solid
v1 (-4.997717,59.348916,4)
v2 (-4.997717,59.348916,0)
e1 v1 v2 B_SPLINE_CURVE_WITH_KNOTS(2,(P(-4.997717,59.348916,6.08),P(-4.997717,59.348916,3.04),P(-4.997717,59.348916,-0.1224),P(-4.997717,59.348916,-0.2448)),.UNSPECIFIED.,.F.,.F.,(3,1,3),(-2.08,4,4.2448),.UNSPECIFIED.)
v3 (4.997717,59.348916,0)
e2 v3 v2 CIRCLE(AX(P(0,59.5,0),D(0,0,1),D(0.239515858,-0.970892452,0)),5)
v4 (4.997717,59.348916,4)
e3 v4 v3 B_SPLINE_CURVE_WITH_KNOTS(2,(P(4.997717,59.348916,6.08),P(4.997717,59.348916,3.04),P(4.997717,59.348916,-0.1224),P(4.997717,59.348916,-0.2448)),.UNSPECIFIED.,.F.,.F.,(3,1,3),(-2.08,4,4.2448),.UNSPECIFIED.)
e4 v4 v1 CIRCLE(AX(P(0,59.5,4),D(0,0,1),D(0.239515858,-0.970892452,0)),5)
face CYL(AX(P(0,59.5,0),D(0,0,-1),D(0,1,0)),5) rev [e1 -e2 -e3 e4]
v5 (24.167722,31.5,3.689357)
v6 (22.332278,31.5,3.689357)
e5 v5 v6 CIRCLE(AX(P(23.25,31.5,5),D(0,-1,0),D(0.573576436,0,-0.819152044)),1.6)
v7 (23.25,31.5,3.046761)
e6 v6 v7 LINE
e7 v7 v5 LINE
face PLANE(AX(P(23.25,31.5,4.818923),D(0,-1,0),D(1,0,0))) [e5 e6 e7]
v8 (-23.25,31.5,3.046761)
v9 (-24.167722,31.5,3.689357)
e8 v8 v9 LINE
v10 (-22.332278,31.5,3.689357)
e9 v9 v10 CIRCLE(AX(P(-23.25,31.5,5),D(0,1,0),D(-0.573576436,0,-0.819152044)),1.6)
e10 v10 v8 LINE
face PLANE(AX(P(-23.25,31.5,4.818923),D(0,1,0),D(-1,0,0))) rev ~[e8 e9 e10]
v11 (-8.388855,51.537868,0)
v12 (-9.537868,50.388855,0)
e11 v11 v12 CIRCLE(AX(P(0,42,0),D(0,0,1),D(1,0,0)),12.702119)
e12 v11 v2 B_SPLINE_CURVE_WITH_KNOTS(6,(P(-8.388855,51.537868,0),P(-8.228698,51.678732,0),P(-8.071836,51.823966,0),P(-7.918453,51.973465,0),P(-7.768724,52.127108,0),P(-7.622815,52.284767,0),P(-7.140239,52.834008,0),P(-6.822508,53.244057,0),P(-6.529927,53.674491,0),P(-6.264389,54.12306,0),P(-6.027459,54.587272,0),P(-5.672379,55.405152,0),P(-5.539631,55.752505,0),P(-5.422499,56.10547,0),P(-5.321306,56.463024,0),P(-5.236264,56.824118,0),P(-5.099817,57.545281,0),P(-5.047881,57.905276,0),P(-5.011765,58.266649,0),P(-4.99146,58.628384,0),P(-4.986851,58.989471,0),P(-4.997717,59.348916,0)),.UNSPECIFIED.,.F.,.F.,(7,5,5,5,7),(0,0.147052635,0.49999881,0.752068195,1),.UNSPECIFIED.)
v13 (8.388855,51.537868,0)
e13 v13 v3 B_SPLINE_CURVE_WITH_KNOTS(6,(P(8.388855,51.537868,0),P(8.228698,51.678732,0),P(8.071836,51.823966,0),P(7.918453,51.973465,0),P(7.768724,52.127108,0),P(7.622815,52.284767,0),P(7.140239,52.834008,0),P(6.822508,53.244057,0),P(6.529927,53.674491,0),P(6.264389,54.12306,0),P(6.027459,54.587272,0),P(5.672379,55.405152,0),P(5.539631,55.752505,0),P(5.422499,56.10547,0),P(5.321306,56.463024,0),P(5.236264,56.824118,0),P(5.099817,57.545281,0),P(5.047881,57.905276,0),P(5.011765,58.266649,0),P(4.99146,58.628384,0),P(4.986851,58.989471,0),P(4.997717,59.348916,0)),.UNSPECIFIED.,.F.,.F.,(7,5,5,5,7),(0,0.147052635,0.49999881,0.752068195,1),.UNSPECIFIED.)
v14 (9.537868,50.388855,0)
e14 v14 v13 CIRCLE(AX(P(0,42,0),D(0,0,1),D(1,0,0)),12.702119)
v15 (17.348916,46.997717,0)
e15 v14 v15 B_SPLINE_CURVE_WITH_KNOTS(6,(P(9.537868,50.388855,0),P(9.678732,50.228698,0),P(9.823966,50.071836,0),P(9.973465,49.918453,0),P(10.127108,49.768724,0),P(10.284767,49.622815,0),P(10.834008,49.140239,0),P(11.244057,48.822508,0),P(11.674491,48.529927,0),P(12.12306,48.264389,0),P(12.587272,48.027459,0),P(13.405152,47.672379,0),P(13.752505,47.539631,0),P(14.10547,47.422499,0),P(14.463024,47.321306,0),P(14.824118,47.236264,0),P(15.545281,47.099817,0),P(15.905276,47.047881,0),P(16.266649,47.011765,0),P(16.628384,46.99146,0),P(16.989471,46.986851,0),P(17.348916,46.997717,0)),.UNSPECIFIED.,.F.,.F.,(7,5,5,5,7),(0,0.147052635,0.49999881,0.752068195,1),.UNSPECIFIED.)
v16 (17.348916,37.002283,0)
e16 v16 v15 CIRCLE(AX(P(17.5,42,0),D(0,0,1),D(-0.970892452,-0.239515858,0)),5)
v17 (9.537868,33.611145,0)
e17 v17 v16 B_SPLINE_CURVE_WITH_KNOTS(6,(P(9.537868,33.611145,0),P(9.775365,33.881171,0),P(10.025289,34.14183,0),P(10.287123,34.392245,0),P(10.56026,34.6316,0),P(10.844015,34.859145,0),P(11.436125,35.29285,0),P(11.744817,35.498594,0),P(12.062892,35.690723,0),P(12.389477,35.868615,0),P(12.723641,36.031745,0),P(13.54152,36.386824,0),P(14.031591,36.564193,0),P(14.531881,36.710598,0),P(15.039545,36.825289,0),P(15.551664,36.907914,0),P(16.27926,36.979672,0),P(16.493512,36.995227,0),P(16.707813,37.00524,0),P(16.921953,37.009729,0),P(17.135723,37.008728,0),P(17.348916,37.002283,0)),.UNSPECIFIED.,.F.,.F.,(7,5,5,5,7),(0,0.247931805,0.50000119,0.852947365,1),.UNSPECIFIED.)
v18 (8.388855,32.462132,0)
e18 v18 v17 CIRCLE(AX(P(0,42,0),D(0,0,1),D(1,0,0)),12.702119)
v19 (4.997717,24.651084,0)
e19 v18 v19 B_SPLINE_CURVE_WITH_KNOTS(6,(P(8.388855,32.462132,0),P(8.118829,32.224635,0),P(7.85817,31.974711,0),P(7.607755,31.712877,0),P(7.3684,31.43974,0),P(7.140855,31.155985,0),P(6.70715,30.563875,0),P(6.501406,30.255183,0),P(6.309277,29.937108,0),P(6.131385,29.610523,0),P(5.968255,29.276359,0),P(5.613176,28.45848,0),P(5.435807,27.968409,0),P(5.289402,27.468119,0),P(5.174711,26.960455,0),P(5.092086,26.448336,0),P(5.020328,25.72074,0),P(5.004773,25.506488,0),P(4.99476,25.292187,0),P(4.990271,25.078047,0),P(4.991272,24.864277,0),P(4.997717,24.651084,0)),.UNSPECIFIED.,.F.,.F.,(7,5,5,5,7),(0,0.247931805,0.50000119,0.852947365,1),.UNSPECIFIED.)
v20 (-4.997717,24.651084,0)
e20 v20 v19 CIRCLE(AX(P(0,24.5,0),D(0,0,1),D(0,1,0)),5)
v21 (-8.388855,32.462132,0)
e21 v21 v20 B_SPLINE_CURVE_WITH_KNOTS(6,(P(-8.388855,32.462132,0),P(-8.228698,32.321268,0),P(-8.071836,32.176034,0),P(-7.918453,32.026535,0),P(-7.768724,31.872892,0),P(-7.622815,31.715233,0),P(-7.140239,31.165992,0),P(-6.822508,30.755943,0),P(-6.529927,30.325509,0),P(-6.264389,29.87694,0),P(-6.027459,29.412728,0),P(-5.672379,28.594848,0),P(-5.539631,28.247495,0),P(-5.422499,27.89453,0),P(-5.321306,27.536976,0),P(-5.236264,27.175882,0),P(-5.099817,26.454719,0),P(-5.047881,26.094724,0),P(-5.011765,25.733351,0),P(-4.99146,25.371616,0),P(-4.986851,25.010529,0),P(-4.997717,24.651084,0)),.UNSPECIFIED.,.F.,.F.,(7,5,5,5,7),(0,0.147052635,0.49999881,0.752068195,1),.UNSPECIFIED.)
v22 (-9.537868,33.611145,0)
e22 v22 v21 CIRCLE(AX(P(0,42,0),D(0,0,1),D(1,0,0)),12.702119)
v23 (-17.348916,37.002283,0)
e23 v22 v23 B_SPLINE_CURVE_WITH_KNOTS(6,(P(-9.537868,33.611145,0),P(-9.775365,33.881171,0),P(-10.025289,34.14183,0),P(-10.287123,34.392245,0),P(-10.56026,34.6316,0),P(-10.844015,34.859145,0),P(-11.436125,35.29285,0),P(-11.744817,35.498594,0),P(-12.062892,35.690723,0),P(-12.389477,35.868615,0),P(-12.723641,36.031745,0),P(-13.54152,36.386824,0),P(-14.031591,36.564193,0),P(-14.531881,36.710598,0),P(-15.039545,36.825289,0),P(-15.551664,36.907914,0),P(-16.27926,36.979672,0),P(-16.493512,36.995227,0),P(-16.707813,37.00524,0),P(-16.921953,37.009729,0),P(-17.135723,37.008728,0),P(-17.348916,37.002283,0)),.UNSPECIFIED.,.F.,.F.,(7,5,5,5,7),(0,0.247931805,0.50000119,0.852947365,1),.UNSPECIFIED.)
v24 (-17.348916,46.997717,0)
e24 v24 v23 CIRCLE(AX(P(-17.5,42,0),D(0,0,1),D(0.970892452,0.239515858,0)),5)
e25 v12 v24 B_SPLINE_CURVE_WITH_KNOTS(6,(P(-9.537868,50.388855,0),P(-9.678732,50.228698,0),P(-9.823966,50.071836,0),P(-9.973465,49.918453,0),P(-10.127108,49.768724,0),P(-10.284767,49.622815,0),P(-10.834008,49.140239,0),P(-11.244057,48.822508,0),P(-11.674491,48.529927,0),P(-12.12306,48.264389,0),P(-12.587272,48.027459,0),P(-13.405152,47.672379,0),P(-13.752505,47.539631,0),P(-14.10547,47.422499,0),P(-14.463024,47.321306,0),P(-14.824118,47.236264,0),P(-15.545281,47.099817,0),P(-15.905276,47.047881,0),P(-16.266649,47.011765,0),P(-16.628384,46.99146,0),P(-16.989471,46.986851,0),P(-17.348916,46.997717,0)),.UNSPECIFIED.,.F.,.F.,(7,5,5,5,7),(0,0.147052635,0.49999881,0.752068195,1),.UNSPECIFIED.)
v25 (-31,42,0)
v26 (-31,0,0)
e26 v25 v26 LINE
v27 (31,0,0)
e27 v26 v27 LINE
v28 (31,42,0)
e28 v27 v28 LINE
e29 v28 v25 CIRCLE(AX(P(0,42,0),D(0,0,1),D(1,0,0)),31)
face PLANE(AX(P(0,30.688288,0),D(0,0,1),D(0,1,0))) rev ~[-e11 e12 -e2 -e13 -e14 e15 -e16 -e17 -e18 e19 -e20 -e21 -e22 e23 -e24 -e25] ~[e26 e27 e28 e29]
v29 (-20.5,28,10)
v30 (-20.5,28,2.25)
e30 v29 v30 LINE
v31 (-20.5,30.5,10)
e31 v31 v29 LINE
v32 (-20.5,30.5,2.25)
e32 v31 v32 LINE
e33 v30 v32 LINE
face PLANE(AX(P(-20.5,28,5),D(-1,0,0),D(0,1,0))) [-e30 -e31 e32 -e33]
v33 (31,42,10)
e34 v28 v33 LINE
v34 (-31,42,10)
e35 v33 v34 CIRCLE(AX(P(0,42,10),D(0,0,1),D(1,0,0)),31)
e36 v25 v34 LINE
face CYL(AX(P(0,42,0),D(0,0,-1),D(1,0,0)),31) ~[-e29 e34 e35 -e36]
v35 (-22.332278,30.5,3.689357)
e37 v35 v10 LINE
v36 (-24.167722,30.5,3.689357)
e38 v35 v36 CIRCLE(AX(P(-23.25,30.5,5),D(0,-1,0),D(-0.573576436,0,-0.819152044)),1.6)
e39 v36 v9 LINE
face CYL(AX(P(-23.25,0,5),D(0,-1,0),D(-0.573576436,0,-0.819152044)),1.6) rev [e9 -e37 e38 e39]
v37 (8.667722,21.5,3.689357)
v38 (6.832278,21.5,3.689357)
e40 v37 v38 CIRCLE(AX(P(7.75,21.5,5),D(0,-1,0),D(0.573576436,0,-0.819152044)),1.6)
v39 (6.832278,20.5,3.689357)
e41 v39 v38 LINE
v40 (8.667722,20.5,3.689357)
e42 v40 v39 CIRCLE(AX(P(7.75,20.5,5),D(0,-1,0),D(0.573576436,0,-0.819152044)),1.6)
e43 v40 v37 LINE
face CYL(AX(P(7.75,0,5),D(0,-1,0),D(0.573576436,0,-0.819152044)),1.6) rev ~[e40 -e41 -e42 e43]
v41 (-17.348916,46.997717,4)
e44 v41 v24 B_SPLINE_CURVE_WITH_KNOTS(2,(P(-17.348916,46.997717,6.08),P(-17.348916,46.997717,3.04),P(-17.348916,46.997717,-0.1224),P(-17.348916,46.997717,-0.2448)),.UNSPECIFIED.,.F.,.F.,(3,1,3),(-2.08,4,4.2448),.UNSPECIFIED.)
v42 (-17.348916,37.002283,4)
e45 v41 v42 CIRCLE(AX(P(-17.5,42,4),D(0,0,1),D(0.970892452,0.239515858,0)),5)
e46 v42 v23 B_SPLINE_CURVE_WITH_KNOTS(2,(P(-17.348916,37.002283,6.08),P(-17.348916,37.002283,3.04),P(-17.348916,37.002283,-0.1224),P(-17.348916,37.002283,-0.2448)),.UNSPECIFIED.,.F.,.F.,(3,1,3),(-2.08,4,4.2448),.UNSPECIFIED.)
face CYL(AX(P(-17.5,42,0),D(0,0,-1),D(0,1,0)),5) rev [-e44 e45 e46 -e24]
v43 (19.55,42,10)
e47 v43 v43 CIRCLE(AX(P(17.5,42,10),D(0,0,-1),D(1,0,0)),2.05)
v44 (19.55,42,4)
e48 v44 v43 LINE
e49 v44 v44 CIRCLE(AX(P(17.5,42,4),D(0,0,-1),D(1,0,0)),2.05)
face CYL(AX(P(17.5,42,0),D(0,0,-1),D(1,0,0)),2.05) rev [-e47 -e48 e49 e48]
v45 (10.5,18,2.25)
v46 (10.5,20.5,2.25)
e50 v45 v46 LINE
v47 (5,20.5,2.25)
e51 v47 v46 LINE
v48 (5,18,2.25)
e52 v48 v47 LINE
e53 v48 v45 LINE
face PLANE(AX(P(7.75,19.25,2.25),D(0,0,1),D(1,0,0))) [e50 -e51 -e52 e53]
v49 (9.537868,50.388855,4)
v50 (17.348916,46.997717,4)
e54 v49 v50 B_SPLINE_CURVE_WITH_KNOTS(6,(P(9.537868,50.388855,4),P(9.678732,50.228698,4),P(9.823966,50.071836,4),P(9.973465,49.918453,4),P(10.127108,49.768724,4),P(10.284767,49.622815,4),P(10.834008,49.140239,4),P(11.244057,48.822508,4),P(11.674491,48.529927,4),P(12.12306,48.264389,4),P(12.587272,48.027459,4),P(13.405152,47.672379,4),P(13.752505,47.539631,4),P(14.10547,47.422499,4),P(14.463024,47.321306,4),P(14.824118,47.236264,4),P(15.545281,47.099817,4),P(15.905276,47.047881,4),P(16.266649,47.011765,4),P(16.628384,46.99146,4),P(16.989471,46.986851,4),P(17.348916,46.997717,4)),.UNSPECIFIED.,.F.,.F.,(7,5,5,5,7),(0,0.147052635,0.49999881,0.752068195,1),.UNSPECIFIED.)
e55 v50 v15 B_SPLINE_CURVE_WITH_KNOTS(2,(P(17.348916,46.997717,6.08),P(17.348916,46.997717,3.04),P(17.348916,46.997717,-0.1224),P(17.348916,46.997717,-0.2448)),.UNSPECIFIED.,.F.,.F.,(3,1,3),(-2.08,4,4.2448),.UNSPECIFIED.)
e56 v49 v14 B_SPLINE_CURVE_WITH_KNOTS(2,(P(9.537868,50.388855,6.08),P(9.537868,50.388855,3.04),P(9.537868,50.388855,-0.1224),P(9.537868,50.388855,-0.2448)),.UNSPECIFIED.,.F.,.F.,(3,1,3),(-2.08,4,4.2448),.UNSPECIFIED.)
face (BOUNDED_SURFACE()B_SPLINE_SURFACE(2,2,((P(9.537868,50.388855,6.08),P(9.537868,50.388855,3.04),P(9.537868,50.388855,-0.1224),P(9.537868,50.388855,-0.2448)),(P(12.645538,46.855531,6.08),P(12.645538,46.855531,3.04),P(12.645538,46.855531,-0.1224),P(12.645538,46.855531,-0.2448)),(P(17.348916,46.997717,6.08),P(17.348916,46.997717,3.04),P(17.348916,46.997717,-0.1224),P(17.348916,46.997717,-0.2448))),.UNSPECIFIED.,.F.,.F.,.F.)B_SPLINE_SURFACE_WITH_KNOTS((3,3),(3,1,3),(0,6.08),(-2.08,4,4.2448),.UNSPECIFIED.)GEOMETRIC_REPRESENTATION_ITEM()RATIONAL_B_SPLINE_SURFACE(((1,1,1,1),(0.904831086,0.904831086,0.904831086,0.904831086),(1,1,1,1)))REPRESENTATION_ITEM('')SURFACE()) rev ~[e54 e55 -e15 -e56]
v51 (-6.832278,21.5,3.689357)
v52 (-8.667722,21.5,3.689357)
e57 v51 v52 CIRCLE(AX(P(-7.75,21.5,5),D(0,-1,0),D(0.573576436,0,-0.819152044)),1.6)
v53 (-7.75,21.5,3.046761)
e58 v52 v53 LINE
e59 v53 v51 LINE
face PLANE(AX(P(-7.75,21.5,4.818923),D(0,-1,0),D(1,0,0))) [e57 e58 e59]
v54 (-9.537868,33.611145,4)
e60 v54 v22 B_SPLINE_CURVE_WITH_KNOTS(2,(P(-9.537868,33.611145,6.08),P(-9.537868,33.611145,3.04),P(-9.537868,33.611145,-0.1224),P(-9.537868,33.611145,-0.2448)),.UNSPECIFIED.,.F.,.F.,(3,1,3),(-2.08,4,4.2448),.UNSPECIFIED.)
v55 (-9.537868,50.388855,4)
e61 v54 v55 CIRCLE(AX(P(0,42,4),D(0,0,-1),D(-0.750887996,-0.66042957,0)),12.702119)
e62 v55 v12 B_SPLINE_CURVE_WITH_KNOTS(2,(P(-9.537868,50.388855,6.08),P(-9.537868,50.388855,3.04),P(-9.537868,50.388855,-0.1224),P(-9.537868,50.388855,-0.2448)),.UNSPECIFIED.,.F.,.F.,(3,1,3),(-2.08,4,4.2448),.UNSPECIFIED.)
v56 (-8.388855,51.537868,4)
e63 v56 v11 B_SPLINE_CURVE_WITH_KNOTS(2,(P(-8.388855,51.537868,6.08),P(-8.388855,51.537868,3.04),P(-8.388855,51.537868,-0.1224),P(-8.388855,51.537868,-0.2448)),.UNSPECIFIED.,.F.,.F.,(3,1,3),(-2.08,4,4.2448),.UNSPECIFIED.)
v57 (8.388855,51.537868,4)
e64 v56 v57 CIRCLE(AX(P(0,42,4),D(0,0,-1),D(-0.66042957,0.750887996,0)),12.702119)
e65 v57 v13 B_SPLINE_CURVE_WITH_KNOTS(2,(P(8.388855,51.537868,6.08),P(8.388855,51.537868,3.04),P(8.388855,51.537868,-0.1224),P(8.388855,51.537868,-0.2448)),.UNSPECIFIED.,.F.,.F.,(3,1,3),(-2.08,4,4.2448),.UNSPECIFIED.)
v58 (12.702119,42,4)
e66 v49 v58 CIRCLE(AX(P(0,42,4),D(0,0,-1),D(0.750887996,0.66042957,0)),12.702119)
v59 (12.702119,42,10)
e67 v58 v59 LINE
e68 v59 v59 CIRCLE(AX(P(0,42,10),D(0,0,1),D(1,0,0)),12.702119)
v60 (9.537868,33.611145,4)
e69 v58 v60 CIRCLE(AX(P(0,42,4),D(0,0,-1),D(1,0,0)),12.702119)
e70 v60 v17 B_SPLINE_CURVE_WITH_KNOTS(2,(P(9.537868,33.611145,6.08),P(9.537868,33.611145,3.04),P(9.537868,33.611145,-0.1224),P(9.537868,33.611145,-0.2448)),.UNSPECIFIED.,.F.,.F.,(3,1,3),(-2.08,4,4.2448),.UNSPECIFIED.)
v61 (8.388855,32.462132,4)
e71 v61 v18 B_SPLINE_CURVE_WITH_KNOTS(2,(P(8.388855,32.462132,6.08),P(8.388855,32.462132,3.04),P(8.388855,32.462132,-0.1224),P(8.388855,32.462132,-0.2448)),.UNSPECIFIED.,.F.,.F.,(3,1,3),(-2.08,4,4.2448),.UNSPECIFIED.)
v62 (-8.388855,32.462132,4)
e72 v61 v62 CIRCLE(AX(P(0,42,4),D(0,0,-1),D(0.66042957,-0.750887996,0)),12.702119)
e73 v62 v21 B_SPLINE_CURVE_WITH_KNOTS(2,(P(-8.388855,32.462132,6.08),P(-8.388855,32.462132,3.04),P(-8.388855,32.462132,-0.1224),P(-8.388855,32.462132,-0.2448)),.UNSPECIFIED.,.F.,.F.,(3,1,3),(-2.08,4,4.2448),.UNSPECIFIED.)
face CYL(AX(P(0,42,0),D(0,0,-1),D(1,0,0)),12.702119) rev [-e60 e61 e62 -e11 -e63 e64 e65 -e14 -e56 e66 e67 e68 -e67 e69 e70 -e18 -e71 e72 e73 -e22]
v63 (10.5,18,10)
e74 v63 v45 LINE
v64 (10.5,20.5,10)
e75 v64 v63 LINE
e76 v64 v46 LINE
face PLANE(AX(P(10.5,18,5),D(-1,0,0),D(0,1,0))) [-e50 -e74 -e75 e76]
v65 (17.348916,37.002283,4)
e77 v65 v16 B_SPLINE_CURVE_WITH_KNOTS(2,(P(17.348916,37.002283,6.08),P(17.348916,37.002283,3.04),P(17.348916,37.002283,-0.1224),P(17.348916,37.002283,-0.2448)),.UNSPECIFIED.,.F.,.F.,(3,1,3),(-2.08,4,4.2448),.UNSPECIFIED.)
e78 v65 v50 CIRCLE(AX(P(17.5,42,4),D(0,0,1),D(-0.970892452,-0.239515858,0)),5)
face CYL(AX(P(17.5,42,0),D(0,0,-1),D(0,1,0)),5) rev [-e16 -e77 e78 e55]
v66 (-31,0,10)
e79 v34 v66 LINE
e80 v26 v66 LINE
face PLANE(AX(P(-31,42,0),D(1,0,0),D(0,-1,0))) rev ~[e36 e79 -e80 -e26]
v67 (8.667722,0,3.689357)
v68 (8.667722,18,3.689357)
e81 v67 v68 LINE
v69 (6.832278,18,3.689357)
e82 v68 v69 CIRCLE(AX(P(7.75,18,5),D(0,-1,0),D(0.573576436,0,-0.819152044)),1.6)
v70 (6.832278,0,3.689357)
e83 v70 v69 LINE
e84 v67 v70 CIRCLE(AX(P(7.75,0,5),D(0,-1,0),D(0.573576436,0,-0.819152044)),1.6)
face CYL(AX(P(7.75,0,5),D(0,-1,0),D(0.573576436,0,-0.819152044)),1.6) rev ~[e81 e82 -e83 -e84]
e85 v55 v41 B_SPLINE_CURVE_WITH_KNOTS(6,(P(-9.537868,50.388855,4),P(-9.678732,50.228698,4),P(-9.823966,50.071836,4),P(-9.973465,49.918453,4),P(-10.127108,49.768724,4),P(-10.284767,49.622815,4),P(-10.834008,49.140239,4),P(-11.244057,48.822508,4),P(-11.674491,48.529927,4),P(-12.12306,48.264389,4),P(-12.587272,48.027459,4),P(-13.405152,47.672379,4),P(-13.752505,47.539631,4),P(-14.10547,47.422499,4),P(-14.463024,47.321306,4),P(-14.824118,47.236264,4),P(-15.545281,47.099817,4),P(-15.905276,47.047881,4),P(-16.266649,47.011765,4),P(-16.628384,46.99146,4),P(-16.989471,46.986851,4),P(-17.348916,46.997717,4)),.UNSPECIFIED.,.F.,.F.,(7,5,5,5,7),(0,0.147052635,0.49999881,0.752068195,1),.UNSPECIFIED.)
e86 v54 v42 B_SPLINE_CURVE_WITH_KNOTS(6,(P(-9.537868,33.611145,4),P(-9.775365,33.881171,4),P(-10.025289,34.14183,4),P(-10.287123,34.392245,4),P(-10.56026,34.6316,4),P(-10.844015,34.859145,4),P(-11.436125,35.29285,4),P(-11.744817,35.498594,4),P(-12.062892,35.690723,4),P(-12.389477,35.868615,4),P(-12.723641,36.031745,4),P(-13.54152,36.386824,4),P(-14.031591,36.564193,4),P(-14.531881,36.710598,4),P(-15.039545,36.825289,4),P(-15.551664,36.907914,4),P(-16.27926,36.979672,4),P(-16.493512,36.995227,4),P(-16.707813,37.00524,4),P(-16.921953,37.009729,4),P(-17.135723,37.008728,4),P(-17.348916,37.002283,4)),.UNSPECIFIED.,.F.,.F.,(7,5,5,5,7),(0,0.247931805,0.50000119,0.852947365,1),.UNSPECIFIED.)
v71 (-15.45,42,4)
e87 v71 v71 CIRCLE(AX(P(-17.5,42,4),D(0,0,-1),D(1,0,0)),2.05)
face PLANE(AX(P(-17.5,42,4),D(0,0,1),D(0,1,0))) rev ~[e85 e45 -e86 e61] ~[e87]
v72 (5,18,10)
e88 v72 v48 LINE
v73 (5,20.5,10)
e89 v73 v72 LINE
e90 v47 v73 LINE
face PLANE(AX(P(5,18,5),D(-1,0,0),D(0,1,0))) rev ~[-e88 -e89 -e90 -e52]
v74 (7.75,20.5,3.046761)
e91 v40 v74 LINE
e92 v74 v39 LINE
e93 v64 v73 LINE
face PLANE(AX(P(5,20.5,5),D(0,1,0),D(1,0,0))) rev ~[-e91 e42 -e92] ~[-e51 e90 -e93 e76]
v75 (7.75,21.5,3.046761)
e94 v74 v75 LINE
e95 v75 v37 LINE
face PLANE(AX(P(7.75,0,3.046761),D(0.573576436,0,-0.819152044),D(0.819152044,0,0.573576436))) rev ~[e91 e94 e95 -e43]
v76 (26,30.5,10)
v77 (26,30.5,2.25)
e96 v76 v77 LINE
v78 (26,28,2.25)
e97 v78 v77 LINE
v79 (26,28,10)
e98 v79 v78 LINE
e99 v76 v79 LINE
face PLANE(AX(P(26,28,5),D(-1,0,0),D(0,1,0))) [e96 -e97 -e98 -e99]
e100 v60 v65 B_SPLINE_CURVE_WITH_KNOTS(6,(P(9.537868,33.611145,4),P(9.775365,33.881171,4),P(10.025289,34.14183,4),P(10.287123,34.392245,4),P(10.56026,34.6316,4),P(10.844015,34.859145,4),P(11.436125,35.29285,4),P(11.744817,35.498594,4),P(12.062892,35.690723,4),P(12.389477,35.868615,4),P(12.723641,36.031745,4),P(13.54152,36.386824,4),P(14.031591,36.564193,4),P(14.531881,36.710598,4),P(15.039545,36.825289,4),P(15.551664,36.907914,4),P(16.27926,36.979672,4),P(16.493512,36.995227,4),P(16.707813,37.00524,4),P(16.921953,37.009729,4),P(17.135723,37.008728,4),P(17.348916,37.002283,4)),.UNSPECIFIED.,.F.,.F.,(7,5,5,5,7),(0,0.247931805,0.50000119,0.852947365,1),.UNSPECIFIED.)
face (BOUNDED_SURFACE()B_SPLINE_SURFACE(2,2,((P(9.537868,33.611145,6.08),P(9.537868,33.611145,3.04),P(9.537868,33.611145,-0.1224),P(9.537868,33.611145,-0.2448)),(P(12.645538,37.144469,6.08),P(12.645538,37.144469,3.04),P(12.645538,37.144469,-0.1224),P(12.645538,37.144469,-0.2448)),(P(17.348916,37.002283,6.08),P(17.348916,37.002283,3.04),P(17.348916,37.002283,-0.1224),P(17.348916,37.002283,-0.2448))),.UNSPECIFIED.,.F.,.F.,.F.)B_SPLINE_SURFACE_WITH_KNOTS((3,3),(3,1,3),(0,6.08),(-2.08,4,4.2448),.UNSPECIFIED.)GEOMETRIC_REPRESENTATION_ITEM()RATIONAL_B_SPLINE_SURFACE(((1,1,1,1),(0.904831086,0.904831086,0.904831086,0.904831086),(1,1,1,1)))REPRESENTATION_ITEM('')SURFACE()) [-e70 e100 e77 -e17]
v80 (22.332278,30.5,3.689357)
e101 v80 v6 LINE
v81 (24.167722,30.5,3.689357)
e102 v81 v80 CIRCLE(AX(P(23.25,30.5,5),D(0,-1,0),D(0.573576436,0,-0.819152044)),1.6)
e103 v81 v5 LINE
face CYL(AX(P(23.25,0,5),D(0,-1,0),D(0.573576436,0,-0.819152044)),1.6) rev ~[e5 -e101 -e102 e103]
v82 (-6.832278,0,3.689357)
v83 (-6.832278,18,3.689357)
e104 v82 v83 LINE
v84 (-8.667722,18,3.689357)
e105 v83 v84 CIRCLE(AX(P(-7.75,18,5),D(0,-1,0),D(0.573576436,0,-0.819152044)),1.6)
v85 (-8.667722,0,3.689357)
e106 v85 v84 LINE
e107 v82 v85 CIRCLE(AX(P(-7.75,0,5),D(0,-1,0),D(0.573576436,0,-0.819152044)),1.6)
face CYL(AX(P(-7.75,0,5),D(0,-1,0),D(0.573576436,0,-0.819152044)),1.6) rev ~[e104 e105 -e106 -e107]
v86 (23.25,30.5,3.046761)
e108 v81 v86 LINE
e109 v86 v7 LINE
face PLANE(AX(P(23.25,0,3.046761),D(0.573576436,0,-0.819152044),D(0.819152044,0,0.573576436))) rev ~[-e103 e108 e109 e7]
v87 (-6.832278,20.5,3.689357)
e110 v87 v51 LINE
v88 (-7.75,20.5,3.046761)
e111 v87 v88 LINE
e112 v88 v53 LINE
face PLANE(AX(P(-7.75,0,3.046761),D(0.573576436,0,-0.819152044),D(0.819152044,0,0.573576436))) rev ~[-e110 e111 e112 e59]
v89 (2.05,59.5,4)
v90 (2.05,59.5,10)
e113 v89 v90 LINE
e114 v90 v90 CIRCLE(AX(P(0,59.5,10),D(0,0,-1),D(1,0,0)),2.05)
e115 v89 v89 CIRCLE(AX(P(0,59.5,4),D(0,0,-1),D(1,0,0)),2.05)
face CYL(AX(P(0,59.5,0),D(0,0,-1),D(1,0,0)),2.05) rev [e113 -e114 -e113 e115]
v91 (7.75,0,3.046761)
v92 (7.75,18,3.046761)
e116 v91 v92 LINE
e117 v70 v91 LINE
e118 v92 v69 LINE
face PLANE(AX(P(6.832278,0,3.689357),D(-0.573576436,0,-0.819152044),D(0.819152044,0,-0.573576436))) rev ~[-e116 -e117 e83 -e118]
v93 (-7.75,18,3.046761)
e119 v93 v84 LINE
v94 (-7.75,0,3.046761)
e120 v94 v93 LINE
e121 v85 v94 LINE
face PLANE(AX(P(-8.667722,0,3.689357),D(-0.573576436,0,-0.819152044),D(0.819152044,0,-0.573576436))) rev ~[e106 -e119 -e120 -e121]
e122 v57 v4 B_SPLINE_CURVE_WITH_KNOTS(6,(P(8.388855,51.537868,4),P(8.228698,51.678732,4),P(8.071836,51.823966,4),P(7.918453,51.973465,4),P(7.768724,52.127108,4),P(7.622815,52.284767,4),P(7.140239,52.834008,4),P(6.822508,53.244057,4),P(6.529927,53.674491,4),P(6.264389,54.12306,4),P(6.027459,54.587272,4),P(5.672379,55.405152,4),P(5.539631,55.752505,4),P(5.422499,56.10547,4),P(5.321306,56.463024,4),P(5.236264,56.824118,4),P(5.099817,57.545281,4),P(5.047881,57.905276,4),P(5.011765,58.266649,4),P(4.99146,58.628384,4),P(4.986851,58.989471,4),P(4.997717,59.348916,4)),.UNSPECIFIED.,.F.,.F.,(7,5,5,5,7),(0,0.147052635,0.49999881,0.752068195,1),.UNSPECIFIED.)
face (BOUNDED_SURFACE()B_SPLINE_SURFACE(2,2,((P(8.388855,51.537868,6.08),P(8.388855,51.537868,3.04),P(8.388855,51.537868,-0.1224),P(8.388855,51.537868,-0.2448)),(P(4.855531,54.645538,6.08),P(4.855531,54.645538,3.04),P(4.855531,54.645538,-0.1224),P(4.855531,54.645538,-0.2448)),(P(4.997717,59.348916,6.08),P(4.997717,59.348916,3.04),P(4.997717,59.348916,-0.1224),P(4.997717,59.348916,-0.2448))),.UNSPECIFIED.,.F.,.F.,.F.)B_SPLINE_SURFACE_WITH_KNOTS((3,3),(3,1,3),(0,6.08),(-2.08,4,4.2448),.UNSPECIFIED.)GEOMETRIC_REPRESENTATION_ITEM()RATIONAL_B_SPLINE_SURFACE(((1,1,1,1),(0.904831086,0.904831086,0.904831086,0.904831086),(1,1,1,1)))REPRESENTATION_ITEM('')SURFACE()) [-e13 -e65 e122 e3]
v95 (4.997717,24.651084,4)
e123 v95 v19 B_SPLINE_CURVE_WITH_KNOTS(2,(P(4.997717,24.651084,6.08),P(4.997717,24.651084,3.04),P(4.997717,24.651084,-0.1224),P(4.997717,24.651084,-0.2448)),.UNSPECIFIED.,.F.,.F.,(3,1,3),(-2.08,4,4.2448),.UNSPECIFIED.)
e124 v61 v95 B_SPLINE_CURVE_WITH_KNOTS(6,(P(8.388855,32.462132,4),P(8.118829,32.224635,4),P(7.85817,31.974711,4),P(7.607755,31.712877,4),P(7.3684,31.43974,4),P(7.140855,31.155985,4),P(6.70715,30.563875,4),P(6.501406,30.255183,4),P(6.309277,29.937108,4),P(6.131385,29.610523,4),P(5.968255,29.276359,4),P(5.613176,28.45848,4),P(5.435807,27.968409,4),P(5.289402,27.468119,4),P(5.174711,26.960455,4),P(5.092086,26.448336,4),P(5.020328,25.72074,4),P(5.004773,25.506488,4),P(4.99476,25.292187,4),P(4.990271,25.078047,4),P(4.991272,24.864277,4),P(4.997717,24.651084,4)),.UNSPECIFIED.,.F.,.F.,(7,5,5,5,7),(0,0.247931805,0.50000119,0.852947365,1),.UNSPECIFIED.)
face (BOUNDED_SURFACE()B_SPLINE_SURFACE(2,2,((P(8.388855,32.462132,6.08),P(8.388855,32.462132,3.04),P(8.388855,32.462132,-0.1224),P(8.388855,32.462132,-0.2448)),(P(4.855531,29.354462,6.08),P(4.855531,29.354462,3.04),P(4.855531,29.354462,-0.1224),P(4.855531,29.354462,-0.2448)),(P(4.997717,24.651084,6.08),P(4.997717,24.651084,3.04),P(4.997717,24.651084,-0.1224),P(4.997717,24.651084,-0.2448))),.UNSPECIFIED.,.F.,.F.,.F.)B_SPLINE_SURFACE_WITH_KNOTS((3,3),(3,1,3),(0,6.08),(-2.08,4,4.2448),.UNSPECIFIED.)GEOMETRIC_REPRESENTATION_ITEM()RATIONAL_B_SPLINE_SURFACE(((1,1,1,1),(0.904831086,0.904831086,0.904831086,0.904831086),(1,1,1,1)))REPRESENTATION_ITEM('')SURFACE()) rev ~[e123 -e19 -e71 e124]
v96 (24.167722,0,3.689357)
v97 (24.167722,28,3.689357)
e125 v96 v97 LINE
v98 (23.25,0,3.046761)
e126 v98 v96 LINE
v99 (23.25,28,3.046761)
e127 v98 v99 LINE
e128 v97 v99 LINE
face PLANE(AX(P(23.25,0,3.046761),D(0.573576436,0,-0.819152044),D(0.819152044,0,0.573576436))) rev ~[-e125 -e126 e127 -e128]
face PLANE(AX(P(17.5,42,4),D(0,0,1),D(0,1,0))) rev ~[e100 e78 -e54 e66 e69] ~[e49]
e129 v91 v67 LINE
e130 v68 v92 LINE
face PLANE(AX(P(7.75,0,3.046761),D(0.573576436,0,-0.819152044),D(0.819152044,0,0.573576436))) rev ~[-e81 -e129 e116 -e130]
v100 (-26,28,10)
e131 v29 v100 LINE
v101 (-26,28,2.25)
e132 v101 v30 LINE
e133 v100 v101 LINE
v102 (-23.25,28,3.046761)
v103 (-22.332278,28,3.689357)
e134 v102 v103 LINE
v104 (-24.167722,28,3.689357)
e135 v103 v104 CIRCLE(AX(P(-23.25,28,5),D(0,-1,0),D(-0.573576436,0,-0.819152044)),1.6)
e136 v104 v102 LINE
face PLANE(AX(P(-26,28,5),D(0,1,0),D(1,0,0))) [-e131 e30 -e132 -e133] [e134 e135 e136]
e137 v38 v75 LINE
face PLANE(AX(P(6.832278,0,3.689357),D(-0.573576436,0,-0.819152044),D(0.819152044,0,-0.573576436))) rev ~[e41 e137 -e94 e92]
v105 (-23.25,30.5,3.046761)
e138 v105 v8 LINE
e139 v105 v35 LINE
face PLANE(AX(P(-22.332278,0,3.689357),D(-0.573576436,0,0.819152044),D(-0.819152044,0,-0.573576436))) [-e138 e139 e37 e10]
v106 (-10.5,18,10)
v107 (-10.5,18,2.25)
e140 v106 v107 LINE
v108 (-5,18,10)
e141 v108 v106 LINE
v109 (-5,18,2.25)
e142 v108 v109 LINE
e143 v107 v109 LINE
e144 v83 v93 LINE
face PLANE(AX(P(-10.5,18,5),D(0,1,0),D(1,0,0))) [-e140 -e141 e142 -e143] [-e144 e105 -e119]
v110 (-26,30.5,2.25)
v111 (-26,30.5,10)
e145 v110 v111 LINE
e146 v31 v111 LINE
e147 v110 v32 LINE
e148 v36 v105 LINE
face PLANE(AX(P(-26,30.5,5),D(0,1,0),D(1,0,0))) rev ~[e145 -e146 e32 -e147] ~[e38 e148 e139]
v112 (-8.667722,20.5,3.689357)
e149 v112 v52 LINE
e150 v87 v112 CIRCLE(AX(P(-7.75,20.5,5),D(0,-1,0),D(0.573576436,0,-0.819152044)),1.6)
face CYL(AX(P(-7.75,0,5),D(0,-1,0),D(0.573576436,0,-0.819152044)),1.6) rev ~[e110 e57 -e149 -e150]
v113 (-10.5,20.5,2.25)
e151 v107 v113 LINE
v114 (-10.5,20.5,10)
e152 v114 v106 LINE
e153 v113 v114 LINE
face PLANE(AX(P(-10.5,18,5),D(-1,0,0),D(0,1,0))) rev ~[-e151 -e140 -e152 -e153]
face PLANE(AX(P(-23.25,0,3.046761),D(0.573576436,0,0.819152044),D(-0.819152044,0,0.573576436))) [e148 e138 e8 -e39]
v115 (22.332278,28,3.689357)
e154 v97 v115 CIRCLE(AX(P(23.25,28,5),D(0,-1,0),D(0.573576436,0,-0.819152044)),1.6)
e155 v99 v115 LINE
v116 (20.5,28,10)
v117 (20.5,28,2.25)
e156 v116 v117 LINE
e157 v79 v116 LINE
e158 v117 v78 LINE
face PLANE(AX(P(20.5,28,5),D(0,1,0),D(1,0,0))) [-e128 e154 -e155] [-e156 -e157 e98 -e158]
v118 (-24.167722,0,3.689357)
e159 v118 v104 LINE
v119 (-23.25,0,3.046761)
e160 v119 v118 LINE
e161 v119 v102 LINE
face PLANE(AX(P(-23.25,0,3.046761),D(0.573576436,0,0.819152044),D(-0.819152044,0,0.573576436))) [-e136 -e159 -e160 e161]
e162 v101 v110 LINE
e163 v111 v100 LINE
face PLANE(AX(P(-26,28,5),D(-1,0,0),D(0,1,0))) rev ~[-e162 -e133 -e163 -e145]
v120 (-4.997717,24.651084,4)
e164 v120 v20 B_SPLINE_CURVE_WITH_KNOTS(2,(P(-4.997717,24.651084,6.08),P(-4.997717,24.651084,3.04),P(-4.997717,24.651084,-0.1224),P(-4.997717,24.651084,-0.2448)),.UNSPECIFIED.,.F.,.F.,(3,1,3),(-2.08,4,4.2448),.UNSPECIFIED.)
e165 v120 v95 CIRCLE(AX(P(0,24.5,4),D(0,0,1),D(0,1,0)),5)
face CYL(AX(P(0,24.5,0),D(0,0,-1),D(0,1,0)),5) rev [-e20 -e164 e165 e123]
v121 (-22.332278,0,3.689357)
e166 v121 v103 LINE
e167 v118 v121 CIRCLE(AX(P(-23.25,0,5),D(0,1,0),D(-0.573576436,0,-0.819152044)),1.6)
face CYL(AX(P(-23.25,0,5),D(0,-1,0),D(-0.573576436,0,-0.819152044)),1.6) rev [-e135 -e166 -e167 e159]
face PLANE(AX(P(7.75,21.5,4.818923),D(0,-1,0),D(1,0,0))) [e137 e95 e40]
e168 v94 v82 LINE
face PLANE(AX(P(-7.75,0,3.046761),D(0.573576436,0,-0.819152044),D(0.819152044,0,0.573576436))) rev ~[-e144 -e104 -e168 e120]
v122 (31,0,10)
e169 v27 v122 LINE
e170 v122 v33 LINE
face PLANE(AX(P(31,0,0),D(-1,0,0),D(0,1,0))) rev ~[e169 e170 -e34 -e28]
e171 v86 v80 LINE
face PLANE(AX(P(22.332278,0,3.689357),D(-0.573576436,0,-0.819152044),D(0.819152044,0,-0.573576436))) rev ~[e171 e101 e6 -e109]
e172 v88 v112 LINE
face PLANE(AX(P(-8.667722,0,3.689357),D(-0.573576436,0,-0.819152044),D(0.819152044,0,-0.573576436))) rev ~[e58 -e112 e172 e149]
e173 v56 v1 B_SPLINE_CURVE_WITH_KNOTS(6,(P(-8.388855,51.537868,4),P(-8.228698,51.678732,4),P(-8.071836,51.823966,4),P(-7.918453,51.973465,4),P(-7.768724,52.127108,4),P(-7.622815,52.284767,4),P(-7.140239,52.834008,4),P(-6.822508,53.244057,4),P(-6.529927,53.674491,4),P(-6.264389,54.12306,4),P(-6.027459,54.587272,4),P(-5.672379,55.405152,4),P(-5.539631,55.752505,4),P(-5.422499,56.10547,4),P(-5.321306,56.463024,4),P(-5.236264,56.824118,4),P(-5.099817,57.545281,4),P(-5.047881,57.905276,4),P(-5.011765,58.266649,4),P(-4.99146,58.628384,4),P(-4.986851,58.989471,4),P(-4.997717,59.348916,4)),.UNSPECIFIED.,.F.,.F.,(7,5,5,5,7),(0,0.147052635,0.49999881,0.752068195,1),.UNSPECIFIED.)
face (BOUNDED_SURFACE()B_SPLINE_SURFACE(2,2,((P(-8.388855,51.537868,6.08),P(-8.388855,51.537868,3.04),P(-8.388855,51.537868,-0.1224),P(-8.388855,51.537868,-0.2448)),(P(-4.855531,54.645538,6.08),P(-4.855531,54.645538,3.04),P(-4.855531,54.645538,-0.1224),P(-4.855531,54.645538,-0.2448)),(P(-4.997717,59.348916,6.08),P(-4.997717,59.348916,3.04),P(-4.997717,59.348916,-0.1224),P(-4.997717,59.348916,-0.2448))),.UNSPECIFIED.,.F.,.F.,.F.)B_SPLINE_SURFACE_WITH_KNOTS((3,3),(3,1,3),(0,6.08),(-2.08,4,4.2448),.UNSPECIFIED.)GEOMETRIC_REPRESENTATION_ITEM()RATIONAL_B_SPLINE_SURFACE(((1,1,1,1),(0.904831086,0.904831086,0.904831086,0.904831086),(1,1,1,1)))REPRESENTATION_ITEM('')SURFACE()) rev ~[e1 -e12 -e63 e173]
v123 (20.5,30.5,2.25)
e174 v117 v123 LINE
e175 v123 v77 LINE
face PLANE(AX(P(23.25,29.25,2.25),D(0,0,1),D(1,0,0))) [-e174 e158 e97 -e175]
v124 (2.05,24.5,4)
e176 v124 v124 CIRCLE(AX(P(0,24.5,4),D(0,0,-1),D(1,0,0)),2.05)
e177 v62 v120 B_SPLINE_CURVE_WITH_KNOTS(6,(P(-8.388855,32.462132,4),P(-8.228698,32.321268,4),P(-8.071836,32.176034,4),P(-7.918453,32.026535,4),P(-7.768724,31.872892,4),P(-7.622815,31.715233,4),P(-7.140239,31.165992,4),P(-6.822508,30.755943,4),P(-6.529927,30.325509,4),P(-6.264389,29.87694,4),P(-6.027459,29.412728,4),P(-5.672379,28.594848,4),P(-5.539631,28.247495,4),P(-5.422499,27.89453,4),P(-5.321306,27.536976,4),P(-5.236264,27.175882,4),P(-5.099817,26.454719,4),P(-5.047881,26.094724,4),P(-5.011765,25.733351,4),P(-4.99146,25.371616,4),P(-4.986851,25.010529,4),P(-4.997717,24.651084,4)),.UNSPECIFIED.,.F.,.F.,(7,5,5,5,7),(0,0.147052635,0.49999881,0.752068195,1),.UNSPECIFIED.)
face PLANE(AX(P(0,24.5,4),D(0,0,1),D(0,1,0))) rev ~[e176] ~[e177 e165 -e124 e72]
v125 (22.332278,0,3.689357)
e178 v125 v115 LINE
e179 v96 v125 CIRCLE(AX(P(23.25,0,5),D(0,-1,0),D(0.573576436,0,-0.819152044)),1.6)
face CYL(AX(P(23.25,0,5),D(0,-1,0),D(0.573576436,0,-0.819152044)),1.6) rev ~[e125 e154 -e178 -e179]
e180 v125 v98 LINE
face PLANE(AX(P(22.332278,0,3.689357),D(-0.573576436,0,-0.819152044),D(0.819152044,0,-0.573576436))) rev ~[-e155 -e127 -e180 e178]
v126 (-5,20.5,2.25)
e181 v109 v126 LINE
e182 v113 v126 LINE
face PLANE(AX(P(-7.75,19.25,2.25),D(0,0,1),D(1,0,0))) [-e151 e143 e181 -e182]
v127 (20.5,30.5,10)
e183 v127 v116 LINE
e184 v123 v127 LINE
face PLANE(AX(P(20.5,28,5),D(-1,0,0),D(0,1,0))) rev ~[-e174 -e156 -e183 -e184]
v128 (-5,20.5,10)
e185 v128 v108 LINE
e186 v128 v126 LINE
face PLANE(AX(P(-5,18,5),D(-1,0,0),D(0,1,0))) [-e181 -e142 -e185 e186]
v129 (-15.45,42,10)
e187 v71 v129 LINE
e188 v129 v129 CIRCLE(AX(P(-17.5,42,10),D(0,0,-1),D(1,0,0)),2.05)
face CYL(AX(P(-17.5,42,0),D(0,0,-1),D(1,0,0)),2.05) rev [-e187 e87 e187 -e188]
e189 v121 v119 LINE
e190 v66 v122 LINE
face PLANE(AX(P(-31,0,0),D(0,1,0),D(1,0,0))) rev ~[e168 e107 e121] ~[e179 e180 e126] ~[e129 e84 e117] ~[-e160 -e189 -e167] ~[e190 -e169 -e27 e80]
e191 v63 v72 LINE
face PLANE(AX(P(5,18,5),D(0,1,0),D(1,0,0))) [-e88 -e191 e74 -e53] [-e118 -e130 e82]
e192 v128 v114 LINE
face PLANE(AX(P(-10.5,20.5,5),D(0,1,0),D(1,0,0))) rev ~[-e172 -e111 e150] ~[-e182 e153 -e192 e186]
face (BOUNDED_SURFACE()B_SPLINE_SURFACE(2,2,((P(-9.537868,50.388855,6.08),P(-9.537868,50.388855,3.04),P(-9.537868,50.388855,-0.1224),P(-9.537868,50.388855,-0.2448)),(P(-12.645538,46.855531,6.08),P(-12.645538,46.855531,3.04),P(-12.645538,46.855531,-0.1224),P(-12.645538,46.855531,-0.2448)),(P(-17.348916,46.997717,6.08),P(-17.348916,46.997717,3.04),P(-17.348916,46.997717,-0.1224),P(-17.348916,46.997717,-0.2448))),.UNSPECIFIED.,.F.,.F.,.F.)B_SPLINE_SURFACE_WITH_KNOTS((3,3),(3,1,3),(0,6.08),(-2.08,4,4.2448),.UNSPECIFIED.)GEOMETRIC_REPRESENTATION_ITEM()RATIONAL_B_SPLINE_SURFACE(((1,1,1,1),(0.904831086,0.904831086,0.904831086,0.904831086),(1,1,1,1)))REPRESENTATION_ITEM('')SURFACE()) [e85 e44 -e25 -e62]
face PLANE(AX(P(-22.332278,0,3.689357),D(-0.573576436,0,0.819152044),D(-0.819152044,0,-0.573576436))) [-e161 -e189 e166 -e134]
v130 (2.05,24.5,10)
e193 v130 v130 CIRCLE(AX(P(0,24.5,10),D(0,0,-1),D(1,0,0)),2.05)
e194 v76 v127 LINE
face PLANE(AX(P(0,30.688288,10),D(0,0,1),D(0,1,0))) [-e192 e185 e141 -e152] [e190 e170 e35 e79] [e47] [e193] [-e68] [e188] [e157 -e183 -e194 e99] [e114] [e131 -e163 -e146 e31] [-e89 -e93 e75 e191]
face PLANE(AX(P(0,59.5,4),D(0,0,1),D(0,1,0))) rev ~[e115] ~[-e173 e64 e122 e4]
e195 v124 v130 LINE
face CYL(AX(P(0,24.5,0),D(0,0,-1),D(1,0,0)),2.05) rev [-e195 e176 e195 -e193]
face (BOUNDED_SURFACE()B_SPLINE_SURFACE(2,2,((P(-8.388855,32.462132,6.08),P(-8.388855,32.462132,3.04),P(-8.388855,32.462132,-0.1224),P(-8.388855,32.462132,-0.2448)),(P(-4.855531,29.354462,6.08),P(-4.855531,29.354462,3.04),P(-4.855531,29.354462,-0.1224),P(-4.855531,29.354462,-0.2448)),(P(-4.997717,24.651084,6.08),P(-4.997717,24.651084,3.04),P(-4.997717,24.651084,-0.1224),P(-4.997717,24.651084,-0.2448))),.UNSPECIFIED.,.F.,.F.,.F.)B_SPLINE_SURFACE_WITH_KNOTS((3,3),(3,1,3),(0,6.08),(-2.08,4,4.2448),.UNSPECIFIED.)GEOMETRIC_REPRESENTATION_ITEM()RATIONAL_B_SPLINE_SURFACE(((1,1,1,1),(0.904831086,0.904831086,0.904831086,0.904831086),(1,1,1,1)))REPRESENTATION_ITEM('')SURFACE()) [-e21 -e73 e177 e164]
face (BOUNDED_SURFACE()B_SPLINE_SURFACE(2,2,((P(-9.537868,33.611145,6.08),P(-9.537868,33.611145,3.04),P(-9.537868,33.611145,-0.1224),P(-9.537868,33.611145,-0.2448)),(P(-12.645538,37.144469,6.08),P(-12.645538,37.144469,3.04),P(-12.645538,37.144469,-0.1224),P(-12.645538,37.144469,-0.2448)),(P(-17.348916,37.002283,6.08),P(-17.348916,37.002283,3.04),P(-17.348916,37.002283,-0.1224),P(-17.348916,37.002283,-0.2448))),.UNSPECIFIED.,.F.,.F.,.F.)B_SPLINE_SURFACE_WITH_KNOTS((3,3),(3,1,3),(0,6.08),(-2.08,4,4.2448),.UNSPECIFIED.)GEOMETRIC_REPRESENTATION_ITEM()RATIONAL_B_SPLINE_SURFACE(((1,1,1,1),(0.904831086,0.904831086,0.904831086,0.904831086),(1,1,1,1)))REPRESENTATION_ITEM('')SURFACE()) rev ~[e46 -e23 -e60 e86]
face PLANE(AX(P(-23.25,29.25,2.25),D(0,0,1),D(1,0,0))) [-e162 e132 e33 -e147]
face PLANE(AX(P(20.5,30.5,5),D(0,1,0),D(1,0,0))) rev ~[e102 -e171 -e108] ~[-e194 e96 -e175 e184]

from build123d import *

# Parameters (mm, degrees)
SKETCH1_R                = 12.702118755
BOSS_EXTRUDE1_DEPTH      = 10
SKETCH1_3_R              = 5
CUT_EXTRUDE1_DEPTH       = 4
SKETCH1_4_R              = 2.05
CUT_EXTRUDE3_DEPTH       = 80.937475567
CUT_EXTRUDE3_DEPTH_BACK  = 80.937475567
FILLET1_R                = 10
CUT_EXTRUDE12_START      = -5
SKETCH3_W                = 5.5
SKETCH3_H                = 2.5
CUT_EXTRUDE12_DEPTH      = 80.937475709
CUT_EXTRUDE12_DEPTH_BACK = 2.75
CUT_EXTRUDE13_DEPTH      = 31.5
CUT_EXTRUDE14_DEPTH      = 21.5


with BuildPart() as part:
    # Sketch1 → Boss-Extrude1 (new body)
    with BuildSketch(Plane(origin=(0, 0, 0), x_dir=(0, 1, 0), z_dir=(0, 0, 1))):
        with BuildLine():
            Line((0, 31), (0, -31))
            Line((0, -31), (42, -31))
            ThreePointArc((42, -31), (73, 0), (42, 31))
            Line((42, 31), (0, 31))
        make_face()
        with Locations(Location((42, 0, 0), (0, 0, 270))):
            Circle(SKETCH1_R, mode=Mode.SUBTRACT)
    extrude(amount=BOSS_EXTRUDE1_DEPTH)

    # Sketch1<3> → Cut-Extrude1 (cut)
    with BuildSketch(Plane(origin=(0, 0, 0), x_dir=(0, 1, 0), z_dir=(0, 0, 1))):
        with Locations((59.5, 0)):
            Circle(SKETCH1_3_R)
        with Locations((42, -17.5)):
            Circle(SKETCH1_3_R)
        with Locations((24.5, 0)):
            Circle(SKETCH1_3_R)
        with Locations((42, 17.5)):
            Circle(SKETCH1_3_R)
    extrude(amount=CUT_EXTRUDE1_DEPTH, mode=Mode.SUBTRACT)

    # Sketch1<4> → Cut-Extrude3 (cut, two sides)
    with BuildSketch(Plane(origin=(0, 0, 0), x_dir=(0, 1, 0), z_dir=(0, 0, 1))) as cut_extrude3_sk:
        with Locations(Location((59.5, 0, 0), (0, 0, 270))):
            Circle(SKETCH1_4_R)
        with Locations(Location((42, -17.5, 0), (0, 0, 270))):
            Circle(SKETCH1_4_R)
        with Locations(Location((24.5, 0, 0), (0, 0, 270))):
            Circle(SKETCH1_4_R)
        with Locations(Location((42, 17.5, 0), (0, 0, 270))):
            Circle(SKETCH1_4_R)
    extrude(amount=CUT_EXTRUDE3_DEPTH, mode=Mode.SUBTRACT)
    extrude(cut_extrude3_sk.sketch, amount=-CUT_EXTRUDE3_DEPTH_BACK, mode=Mode.SUBTRACT)

    # Fillet1
    fillet1_edges = [part.edges().sort_by_distance(p)[0] for p in [
        (-1.197579289, 29.354462261, 2),
        (1.197579289, 29.354462261, 2),
        (-12.645537739, 43.197579289, 2),
        (-12.645537739, 40.802420711, 2),
        (1.197579289, 54.645537739, 2),
        (-1.197579289, 54.645537739, 2),
        (12.645537739, 40.802420711, 2),
        (12.645537739, 43.197579289, 2),
    ]]
    fillet(fillet1_edges, radius=FILLET1_R)

    # Sketch3 → Cut-Extrude12 (cut, two sides)
    with BuildSketch(Plane.XY.offset(10).offset(CUT_EXTRUDE12_START)) as cut_extrude12_sk:
        with Locations((-23.25, 29.25)):
            Rectangle(SKETCH3_W, SKETCH3_H)
        with Locations((-7.75, 19.25)):
            Rectangle(SKETCH3_W, SKETCH3_H)
        with Locations((7.75, 19.25)):
            Rectangle(SKETCH3_W, SKETCH3_H)
        with Locations((23.25, 29.25)):
            Rectangle(SKETCH3_W, SKETCH3_H)
    extrude(amount=CUT_EXTRUDE12_DEPTH, mode=Mode.SUBTRACT)
    extrude(cut_extrude12_sk.sketch, amount=-CUT_EXTRUDE12_DEPTH_BACK, mode=Mode.SUBTRACT)

    # Sketch2 → Cut-Extrude13 (cut)
    with BuildSketch(Plane.XZ):
        with BuildLine():
            Line((-22.332277702, 3.689356729), (-23.25, 3.046760658))
            Line((-23.25, 3.046760658), (-24.167722298, 3.689356729))
            ThreePointArc((-24.167722298, 3.689356729), (-23.25, 6.6), (-22.332277702, 3.689356729))
        make_face()
        with BuildLine():
            Line((22.332277702, 3.689356729), (23.25, 3.046760658))
            Line((23.25, 3.046760658), (24.167722298, 3.689356729))
            ThreePointArc((24.167722298, 3.689356729), (23.25, 6.6), (22.332277702, 3.689356729))
        make_face()
    extrude(amount=-CUT_EXTRUDE13_DEPTH, mode=Mode.SUBTRACT)

    # Sketch2<3> → Cut-Extrude14 (cut)
    with BuildSketch(Plane.XZ):
        with BuildLine():
            Line((-8.667722298, 3.689356729), (-7.75, 3.046760658))
            Line((-7.75, 3.046760658), (-6.832277702, 3.689356729))
            ThreePointArc((-6.832277702, 3.689356729), (-7.75, 6.6), (-8.667722298, 3.689356729))
        make_face()
        with BuildLine():
            Line((6.832277702, 3.689356729), (7.75, 3.046760658))
            Line((7.75, 3.046760658), (8.667722298, 3.689356729))
            ThreePointArc((8.667722298, 3.689356729), (7.75, 6.6), (6.832277702, 3.689356729))
        make_face()
    extrude(amount=-CUT_EXTRUDE14_DEPTH, mode=Mode.SUBTRACT)


solid = part.part
